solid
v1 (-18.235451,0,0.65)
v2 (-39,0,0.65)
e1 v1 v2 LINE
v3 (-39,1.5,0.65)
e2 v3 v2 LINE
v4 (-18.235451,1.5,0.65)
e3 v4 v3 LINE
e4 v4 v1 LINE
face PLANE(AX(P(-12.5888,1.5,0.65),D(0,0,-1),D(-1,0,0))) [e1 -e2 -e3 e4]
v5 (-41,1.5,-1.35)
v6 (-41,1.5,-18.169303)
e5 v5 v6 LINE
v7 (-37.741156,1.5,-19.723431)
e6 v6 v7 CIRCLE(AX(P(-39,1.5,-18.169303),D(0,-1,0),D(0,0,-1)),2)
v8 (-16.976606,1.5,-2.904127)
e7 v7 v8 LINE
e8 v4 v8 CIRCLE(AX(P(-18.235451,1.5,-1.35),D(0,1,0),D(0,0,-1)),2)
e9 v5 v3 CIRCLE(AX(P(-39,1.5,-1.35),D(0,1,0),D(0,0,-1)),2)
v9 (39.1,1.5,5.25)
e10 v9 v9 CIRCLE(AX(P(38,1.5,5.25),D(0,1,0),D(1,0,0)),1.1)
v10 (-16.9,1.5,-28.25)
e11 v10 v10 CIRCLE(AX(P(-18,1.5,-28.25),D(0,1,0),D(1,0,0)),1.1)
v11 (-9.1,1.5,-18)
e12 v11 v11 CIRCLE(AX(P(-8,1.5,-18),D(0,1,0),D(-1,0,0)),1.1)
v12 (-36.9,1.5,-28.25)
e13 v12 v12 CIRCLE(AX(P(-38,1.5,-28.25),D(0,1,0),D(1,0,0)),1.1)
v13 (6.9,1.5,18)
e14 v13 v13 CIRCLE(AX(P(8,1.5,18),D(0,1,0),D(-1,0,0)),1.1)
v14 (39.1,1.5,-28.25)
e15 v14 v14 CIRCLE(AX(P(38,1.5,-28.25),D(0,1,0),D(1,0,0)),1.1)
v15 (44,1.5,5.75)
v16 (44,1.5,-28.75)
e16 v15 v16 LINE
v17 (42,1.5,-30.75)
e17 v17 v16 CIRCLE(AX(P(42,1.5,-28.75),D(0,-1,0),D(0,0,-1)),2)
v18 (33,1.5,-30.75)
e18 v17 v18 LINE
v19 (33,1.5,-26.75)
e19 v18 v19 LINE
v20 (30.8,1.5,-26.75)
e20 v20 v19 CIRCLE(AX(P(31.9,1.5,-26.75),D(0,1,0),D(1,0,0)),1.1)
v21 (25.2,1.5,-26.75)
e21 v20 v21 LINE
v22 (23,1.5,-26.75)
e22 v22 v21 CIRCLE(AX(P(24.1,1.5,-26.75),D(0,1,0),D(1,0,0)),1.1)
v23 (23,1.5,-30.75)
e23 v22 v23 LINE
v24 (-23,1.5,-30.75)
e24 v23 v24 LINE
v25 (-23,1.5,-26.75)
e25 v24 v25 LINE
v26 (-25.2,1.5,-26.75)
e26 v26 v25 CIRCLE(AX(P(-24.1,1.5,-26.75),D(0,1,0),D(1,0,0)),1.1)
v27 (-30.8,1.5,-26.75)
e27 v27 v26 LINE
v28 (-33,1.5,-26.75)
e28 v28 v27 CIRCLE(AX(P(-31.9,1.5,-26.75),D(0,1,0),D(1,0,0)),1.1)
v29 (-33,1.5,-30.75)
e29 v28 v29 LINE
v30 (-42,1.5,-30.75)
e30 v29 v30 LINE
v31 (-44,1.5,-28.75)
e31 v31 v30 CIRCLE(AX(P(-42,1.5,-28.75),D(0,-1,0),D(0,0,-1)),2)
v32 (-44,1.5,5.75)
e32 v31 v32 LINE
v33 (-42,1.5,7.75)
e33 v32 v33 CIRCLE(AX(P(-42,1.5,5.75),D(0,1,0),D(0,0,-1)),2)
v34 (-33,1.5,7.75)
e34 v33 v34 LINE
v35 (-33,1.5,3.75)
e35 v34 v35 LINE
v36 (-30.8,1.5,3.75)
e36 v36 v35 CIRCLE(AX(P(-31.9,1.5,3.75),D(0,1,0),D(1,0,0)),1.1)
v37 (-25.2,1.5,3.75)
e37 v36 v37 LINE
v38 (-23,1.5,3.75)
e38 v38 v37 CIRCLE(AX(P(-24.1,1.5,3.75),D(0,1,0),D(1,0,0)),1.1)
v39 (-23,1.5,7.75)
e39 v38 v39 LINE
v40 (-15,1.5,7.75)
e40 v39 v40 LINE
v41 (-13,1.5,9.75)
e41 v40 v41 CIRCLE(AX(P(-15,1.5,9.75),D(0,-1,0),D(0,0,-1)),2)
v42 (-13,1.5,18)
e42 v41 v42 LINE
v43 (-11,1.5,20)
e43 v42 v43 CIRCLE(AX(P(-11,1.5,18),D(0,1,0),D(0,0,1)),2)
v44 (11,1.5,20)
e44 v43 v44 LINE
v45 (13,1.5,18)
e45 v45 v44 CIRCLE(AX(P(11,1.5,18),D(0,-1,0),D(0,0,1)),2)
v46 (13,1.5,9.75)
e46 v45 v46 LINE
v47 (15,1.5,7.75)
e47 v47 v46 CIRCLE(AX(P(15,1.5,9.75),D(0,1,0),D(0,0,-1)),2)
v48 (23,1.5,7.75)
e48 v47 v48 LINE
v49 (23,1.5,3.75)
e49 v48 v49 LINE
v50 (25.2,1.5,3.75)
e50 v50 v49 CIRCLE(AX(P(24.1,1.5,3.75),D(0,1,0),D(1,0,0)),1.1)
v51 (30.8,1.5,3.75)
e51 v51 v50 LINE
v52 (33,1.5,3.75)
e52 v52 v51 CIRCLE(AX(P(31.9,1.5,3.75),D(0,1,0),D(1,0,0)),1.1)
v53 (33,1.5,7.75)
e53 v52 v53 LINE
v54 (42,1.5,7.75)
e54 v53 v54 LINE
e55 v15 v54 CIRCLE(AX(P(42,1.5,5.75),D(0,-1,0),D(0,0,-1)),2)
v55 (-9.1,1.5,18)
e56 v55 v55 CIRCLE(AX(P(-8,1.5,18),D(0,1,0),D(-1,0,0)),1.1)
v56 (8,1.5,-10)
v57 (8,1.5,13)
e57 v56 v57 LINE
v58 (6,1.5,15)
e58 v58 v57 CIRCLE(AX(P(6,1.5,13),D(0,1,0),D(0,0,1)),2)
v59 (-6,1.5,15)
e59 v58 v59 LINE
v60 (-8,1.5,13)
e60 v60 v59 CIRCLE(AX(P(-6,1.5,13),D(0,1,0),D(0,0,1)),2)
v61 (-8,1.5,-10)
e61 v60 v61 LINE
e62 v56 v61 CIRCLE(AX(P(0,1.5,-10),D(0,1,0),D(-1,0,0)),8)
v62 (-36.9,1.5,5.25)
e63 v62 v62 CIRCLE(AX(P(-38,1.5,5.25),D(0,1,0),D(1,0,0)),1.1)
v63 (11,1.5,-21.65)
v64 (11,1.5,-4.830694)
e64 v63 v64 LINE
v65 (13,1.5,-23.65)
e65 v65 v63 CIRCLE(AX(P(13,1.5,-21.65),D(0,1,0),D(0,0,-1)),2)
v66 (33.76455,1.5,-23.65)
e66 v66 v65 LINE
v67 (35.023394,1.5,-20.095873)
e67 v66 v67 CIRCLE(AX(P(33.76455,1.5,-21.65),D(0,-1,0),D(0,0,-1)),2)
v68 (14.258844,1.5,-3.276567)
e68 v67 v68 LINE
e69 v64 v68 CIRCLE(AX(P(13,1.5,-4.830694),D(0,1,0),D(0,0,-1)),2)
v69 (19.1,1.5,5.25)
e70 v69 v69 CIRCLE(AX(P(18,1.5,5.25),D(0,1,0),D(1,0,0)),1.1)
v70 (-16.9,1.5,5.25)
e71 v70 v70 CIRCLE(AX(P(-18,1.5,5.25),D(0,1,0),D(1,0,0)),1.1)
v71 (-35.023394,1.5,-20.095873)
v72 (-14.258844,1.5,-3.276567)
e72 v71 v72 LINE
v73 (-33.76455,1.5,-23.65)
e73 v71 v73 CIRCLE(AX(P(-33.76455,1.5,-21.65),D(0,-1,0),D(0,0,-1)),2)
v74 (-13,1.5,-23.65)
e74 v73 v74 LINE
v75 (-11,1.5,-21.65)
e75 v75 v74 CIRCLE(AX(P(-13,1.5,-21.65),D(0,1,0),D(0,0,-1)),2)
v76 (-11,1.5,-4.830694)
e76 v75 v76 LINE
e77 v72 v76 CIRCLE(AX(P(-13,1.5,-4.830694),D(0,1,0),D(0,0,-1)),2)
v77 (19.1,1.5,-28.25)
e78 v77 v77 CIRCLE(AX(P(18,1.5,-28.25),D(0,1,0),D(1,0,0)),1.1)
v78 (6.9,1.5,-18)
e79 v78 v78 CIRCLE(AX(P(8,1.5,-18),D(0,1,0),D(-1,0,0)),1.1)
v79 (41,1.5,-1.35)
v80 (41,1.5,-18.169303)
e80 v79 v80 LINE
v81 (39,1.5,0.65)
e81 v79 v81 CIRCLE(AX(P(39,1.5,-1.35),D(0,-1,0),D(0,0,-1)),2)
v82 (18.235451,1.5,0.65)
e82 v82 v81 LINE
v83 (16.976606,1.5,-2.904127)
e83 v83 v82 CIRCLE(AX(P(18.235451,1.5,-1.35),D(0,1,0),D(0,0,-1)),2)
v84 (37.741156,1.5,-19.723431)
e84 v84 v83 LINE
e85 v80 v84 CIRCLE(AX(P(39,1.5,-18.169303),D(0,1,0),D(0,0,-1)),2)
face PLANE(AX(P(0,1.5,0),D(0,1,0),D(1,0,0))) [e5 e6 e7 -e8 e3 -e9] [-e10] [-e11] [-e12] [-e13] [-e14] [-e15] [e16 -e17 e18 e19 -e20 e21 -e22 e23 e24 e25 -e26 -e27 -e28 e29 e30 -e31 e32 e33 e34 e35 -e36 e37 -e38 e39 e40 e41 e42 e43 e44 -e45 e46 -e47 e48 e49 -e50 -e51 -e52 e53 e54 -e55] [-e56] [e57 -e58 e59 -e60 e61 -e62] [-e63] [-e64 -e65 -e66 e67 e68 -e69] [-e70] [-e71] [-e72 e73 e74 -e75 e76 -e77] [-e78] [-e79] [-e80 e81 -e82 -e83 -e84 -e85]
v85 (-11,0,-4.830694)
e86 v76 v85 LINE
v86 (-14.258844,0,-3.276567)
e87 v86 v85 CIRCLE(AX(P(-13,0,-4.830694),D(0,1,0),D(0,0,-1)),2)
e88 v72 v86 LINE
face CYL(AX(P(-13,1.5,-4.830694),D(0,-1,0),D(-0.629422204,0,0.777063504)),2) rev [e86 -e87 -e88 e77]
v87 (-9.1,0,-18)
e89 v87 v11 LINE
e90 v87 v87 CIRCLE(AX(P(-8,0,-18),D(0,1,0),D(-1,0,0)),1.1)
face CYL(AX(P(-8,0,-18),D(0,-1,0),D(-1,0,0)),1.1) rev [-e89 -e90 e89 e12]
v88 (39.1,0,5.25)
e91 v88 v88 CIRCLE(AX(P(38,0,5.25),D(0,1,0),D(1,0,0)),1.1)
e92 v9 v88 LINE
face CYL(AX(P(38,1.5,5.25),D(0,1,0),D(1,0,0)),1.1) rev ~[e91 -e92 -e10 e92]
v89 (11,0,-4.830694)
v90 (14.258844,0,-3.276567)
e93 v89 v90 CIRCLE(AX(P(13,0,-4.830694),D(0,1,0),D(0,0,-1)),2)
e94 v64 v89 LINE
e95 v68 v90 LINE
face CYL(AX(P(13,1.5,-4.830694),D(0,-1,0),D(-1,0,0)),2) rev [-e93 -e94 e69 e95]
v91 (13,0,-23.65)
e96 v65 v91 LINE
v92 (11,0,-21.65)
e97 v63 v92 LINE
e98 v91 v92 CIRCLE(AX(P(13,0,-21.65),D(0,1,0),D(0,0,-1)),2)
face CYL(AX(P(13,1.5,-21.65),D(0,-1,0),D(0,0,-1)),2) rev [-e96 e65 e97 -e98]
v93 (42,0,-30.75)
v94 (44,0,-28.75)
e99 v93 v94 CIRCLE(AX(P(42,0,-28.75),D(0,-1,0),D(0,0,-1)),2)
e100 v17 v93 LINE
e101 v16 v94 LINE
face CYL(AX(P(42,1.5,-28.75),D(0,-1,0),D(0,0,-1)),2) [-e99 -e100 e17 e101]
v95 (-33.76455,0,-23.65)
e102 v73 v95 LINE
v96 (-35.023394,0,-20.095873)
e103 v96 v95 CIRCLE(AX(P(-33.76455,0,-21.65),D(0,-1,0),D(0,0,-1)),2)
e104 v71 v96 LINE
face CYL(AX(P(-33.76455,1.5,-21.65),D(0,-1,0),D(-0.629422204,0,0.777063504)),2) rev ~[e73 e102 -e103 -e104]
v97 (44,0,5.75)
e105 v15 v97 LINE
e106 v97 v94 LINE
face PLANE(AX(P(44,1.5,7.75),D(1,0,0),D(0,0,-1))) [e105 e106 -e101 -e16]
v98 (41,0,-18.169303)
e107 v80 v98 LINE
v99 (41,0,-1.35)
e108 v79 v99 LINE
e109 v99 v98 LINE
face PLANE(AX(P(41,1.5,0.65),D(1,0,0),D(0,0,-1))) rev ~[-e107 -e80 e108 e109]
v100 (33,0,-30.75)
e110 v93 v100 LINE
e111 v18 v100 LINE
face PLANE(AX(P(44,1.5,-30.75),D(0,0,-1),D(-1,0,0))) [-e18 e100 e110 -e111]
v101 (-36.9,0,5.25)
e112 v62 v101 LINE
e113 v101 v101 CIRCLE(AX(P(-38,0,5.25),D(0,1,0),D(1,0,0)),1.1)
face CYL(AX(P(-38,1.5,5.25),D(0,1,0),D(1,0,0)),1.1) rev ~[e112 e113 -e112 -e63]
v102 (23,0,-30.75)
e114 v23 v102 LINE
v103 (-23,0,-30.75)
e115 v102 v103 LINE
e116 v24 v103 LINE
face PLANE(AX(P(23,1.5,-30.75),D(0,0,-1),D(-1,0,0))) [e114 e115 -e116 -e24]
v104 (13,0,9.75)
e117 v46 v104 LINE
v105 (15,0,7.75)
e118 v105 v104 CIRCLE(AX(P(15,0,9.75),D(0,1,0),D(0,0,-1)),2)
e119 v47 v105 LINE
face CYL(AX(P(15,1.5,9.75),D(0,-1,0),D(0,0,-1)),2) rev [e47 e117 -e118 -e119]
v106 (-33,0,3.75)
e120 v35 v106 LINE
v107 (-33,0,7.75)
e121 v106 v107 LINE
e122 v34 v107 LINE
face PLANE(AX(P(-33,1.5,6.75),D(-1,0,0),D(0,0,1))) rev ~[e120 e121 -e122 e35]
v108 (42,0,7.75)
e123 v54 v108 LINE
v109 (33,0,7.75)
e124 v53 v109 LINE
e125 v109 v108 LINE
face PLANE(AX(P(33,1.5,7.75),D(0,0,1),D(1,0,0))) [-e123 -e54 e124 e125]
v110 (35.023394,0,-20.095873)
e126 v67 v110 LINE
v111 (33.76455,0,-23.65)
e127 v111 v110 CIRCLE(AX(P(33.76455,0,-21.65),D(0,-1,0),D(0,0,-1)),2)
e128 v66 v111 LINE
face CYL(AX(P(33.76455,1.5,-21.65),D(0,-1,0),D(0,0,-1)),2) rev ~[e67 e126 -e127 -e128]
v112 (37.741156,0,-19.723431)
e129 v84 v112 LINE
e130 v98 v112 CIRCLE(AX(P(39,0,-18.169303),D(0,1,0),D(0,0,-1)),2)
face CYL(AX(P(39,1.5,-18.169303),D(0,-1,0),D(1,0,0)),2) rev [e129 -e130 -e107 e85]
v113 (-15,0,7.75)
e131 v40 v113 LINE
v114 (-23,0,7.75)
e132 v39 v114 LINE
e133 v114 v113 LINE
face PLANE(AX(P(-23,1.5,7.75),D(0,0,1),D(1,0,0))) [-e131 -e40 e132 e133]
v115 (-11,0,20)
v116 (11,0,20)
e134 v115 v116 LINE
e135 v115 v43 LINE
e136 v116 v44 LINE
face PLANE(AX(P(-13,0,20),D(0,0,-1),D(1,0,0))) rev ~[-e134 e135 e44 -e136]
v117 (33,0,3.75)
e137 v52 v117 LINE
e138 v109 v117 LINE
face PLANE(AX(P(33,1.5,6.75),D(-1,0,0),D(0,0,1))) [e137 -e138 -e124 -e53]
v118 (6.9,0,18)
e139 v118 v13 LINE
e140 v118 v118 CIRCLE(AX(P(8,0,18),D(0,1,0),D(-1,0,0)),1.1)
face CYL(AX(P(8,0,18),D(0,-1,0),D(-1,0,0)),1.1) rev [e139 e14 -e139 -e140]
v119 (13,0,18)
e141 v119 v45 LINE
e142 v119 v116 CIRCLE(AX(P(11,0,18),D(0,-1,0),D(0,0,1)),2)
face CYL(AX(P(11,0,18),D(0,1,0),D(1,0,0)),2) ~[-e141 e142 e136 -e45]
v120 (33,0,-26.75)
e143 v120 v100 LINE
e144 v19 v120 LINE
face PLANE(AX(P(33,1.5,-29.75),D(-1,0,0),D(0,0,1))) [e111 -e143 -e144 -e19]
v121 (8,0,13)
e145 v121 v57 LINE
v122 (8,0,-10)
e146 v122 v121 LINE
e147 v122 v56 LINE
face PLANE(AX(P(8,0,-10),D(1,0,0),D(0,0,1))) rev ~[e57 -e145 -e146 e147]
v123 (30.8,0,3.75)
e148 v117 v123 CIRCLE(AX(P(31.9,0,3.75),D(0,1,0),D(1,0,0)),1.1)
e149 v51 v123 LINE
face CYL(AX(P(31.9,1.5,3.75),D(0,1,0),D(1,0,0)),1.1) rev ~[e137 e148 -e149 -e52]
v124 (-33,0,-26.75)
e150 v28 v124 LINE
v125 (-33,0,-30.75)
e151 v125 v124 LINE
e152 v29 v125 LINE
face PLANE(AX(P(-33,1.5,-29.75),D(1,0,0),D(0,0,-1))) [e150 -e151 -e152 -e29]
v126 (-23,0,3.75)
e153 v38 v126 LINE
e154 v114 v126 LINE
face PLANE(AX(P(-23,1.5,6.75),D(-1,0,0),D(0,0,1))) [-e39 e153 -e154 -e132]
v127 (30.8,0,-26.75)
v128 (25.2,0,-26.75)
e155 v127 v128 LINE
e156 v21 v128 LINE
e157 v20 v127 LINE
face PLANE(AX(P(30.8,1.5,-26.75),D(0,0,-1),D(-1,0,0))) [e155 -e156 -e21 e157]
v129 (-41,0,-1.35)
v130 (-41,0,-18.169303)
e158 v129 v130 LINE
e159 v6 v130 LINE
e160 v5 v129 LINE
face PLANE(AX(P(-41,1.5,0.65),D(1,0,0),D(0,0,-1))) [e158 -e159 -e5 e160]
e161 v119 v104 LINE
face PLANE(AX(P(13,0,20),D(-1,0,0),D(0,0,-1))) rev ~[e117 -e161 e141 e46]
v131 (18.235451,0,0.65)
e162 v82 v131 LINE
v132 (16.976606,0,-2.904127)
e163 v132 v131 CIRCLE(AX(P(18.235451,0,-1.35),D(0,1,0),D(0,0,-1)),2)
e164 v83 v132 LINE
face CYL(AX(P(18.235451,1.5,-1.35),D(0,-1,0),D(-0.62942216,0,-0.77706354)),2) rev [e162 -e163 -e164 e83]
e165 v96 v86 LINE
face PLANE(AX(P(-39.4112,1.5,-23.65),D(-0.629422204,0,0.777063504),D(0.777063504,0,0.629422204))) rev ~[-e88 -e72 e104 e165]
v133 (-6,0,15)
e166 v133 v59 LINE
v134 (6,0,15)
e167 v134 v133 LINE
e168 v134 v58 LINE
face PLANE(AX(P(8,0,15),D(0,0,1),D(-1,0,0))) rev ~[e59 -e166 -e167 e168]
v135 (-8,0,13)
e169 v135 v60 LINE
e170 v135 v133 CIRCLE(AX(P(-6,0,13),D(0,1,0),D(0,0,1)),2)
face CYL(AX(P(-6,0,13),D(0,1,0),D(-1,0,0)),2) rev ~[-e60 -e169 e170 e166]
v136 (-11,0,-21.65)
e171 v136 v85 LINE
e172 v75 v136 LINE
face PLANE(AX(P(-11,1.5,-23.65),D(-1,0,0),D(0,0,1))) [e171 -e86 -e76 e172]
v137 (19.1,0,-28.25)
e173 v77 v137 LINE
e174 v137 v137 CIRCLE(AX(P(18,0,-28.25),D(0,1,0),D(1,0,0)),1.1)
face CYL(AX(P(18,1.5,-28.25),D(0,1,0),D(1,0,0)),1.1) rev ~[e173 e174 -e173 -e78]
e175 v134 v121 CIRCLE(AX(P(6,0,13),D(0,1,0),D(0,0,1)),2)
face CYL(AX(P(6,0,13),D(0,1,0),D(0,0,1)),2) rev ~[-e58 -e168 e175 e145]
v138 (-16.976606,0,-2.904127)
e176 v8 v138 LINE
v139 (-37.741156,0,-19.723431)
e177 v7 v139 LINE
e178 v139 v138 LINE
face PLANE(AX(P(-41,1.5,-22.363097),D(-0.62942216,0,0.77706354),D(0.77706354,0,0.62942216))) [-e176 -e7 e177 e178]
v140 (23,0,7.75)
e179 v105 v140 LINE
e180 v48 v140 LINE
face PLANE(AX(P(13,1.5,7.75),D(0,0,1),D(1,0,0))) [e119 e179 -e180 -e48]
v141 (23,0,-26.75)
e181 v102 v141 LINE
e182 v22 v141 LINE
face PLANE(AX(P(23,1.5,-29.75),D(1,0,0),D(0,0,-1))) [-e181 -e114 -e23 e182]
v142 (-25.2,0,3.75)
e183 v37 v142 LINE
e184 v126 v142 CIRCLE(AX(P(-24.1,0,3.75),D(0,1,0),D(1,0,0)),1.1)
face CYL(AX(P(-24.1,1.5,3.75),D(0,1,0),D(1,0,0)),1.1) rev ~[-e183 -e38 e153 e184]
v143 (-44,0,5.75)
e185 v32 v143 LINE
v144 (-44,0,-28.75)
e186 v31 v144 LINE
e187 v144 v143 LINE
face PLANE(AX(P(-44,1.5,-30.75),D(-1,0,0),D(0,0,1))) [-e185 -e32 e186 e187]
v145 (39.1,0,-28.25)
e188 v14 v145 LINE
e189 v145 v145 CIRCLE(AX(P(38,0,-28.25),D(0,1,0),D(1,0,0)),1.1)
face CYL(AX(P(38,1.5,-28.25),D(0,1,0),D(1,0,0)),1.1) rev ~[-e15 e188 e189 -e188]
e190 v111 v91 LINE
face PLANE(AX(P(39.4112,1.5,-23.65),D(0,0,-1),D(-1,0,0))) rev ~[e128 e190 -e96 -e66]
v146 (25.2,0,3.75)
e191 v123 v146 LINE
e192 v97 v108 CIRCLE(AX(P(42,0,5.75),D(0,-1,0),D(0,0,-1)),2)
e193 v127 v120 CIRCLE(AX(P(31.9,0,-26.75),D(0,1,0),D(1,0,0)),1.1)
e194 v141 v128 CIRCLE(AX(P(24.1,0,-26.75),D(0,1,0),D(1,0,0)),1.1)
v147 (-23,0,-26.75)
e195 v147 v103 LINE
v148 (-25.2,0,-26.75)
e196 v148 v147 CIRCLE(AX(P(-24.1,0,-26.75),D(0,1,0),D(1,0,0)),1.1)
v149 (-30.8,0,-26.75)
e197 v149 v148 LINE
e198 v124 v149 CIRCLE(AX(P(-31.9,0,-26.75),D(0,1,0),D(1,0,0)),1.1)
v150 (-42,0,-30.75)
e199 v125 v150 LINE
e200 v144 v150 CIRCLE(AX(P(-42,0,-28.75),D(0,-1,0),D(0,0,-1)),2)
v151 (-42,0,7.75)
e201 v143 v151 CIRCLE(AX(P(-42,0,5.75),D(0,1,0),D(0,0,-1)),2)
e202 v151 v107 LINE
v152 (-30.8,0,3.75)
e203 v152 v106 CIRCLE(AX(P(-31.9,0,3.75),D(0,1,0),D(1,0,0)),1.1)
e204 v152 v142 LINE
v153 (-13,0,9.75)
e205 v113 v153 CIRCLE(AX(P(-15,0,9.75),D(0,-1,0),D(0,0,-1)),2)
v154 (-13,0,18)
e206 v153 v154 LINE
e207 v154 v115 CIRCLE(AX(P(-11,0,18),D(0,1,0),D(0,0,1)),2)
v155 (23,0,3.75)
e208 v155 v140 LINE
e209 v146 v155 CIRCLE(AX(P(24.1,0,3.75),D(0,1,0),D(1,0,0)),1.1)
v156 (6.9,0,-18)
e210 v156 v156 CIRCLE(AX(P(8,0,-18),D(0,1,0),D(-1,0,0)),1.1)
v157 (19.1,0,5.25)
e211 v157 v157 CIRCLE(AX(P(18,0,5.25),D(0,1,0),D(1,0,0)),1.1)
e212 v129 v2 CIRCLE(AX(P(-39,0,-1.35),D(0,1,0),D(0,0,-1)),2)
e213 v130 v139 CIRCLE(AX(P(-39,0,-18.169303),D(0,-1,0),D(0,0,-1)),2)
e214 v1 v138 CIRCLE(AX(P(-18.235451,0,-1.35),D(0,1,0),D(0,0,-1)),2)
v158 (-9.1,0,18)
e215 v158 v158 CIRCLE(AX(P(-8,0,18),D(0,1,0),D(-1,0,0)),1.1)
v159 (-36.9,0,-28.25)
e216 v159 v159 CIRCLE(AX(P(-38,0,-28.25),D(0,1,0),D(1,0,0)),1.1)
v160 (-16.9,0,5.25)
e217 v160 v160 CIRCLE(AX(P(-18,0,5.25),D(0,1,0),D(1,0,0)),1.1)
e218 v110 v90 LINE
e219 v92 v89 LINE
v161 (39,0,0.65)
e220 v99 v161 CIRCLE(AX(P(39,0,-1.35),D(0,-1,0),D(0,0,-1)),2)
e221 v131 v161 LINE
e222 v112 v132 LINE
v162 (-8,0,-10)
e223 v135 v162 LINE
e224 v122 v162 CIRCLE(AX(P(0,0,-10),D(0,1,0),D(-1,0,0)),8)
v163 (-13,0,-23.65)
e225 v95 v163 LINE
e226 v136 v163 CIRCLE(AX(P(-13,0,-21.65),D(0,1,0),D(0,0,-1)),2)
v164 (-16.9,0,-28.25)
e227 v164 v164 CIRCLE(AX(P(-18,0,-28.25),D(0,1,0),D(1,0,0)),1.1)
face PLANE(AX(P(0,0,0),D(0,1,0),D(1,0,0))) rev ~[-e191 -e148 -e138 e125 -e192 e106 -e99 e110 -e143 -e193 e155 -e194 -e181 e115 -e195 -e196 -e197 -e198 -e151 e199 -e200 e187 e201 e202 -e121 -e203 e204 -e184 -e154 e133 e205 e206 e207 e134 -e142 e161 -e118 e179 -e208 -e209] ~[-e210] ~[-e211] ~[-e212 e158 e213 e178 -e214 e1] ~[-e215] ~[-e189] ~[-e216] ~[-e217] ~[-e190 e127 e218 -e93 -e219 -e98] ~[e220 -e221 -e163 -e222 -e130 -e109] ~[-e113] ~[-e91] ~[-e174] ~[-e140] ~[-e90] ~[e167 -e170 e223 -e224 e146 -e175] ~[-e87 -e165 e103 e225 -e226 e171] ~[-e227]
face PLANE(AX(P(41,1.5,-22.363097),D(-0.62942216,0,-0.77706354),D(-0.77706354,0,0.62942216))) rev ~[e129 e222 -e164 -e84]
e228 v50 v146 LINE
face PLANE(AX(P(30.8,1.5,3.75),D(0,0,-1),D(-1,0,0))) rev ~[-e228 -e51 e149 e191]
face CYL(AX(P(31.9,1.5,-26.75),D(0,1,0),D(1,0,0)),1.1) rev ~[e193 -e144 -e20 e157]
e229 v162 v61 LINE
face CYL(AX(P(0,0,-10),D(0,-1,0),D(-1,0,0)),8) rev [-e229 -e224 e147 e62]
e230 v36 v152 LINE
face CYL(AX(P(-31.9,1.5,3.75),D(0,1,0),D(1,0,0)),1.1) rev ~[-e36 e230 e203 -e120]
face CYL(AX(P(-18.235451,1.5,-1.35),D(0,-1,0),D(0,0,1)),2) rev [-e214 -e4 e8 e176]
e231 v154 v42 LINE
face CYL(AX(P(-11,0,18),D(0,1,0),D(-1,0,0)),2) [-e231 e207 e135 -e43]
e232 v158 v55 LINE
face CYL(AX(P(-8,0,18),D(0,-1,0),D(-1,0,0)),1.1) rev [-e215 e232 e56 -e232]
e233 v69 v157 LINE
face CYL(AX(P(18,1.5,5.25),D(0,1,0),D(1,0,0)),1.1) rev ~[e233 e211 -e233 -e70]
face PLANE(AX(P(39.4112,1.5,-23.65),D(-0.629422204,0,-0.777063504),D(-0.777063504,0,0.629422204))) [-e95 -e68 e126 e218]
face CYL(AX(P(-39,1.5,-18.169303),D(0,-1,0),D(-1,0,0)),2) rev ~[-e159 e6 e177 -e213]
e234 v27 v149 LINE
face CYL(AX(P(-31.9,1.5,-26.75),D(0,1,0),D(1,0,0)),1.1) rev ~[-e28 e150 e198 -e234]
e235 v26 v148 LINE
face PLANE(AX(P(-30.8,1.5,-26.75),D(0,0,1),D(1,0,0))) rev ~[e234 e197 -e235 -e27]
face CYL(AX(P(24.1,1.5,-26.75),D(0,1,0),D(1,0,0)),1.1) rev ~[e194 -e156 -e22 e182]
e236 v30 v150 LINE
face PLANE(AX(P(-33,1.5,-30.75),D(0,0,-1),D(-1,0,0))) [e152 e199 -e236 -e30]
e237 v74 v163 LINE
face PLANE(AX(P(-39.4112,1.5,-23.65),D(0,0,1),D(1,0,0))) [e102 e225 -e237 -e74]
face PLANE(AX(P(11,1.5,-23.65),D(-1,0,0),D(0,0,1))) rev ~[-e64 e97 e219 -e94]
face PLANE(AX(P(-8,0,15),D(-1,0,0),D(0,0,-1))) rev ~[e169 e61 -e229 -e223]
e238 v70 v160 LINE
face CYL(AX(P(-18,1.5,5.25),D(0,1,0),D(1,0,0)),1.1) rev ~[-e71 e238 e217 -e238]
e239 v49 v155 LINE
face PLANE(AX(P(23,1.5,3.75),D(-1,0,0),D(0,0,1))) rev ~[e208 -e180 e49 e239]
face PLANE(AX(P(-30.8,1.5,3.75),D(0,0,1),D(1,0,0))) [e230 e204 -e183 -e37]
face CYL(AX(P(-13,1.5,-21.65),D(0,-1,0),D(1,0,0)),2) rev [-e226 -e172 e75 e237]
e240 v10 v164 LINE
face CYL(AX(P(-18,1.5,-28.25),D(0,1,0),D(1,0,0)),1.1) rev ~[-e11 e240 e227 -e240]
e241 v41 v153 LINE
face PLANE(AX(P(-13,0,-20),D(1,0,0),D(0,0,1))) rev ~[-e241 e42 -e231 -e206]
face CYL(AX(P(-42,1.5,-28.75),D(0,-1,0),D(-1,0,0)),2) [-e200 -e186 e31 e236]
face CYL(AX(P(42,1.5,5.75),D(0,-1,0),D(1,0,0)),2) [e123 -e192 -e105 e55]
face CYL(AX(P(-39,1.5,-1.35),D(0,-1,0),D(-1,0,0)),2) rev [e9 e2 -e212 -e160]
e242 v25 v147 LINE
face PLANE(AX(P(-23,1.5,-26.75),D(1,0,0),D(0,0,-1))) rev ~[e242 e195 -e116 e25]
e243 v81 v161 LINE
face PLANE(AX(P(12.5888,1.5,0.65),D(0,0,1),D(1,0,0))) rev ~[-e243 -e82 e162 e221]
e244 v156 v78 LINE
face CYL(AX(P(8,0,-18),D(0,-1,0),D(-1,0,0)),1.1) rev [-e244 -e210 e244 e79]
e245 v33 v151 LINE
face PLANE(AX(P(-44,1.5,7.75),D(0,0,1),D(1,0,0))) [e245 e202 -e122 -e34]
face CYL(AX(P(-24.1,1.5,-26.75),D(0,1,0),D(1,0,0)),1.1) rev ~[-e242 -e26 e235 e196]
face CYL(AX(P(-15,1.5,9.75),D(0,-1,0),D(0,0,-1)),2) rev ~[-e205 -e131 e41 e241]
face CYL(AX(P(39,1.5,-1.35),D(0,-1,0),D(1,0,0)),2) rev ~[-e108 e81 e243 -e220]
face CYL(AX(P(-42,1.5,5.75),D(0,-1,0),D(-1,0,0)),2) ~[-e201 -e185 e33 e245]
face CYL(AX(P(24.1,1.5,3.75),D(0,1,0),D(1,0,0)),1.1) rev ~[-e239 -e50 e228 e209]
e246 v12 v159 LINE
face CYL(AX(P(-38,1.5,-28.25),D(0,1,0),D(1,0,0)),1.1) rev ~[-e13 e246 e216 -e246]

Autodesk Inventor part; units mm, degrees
ref_plane "YZ Plane" through (0, 0, 0) normal (1, 0, 0) x (0, 1, 0)
ref_plane "XZ Plane" through (0, 0, 0) normal (0, 1, 0) x (-1, 0, 0)
ref_plane "XY Plane" through (0, 0, 0) normal (0, 0, 1) x (1, 0, 0)
sketch "スケッチ1" plane through (0, 0, 0) normal (0, 1, 0) x (-1, 0, 0)
  line L0 (8, 18) -> (-8, 18) construction
  line L1 (-8, 18) -> (-8, -18) construction
  line L2 (-8, -18) -> (8, -18) construction
  line L3 (8, -18) -> (8, 18) construction
  line L4 (8, 18) -> (-8, -18) construction
  line L5 (-8, 18) -> (8, -18) construction
  circle A0 centre (8, -18) radius 1.1
  circle A1 centre (-8, -18) radius 1.1
  circle A2 centre (8, 18) radius 1.1
  circle A3 centre (-8, 18) radius 1.1
  line L6 (13, 20) -> (-13, 20)
  line L7 (-13, 20) -> (-13, -20)
  line L8 (-13, -20) -> (13, -20)
  line L9 (13, -20) -> (13, 20)
  line L10 (13, 20) -> (-13, -20) construction
  line L11 (-13, 20) -> (13, -20) construction
  line L12 (8, -10) -> (-8, -10)
  line L13 (-8, -10) -> (-8, 15)
  line L14 (-8, 15) -> (8, 15)
  line L15 (8, 15) -> (8, -10)
  circle A4 centre (0, -10) radius 8
  point P0 (0, 0)
  dimension "d0" = 2.2
  dimension "d1" = 16
  dimension "d2" = 36
  dimension "d5" = 16
  dimension "d8" = 36
  dimension "d11" = 2
  dimension "d12" = 5
  dimension "d15" = 3
  dimension "d16" = 10
extrude "押し出し1" add sketch "スケッチ1" along normal blind 1.5
fillet "フィレット1" radius 2 2 edges at (8, 0.75, 15) (-8, 0.75, 15)
sketch "スケッチ2" plane through (0, 1.5, 0) normal (0, 1, 0) x (1, 0, 0)
  line L0 (-44, -7.75) -> (44, -7.75)
  line L1 (44, -7.75) -> (44, 30.75)
  line L2 (44, 30.75) -> (-44, 30.75)
  line L3 (-44, 30.75) -> (-44, -7.75)
  line L4 (-44, -7.75) -> (44, 30.75) construction
  line L5 (44, -7.75) -> (-44, 30.75) construction
  line L6 (13, 20) -> (-13, 20) projected
  line L7 (-13, 20) -> (-13, -20) projected
  line L8 (-8, -13) -> (-8, 10) projected
  line L9 (8, 10) -> (8, -13) projected
  line L10 (13, -20) -> (13, 20) projected
  line L11 (13, 20) -> (-13, 20) projected
  line L12 (-13, 20) -> (-13, -20) projected
  line L13 (-13, -20) -> (13, -20) projected
  circle A0 centre (-8, -18) radius 1.1 projected
  circle A1 centre (8, -18) radius 1.1 projected
  circle A2 centre (8, 18) radius 1.1 projected
  circle A3 centre (-8, 18) radius 1.1 projected
  line L14 (-8, -13) -> (-8, 10) projected
  arc A4 (8, 10) -> (-8, 10) centre (0, 10) ccw projected
  line L15 (8, 10) -> (8, -13) projected
  arc A5 (6, -15) -> (8, -13) centre (6, -13) ccw projected
  line L16 (6, -15) -> (-6, -15) projected
  arc A6 (-8, -13) -> (-6, -15) centre (-6, -13) ccw projected
  line L17 (33, 26.75) -> (23, 26.75)
  line L18 (23, 26.75) -> (23, 29.75)
  line L19 (23, 29.75) -> (33, 29.75)
  line L20 (33, 29.75) -> (33, 26.75)
  circle A7 centre (38, 28.25) radius 1.1
  line L21 (28, 26.75) -> (28, 29.75) construction
  circle A8 centre (18, 28.25) radius 1.1
  line L22 (44, 11.5) -> (-44, 11.5) construction
  line L23 (33, -3.75) -> (23, -3.75)
  line L24 (23, -3.75) -> (23, -6.75)
  line L25 (23, -6.75) -> (33, -6.75)
  line L26 (33, -6.75) -> (33, -3.75)
  circle A9 centre (38, -5.25) radius 1.1
  line L27 (28, -3.75) -> (28, -6.75) construction
  circle A10 centre (18, -5.25) radius 1.1
  line L28 (0, 30.75) -> (0, -7.75) construction
  line L29 (-33, 26.75) -> (-23, 26.75)
  line L30 (-23, 26.75) -> (-23, 29.75)
  line L31 (-23, 29.75) -> (-33, 29.75)
  line L32 (-33, 29.75) -> (-33, 26.75)
  circle A11 centre (-38, 28.25) radius 1.1
  line L33 (-28, 26.75) -> (-28, 29.75) construction
  circle A12 centre (-18, 28.25) radius 1.1
  circle A13 centre (-18, -5.25) radius 1.1
  line L34 (-23, -3.75) -> (-23, -6.75)
  line L35 (-28, -3.75) -> (-28, -6.75) construction
  line L36 (-33, -3.75) -> (-23, -3.75)
  line L37 (-23, -6.75) -> (-33, -6.75)
  line L38 (-33, -6.75) -> (-33, -3.75)
  circle A14 centre (-38, -5.25) radius 1.1
  circle A15 centre (-31.9, -6.75) radius 1.1
  circle A16 centre (-24.1, -6.75) radius 1.1
  line L39 (-33, -5.25) -> (-28, -5.25) construction
  circle A17 centre (-31.9, -3.75) radius 1.1
  circle A18 centre (-24.1, -3.75) radius 1.1
  circle A19 centre (-31.9, 29.75) radius 1.1
  circle A20 centre (-24.1, 29.75) radius 1.1
  circle A21 centre (-31.9, 26.75) radius 1.1
  circle A22 centre (-24.1, 26.75) radius 1.1
  circle A23 centre (31.9, -6.75) radius 1.1
  circle A24 centre (24.1, -6.75) radius 1.1
  circle A25 centre (31.9, -3.75) radius 1.1
  circle A26 centre (24.1, -3.75) radius 1.1
  circle A27 centre (31.9, 29.75) radius 1.1
  circle A28 centre (31.9, 26.75) radius 1.1
  circle A29 centre (24.1, 26.75) radius 1.1
  circle A30 centre (24.1, 29.75) radius 1.1
  line L40 (33, 29.75) -> (33, 30.75)
  line L41 (23, 29.75) -> (23, 30.75)
  line L42 (-33, 29.75) -> (-33, 30.75)
  line L43 (-23, 29.75) -> (-23, 30.75)
  line L44 (33, -6.75) -> (33, -7.75)
  line L45 (23, -6.75) -> (23, -7.75)
  line L46 (-33, -6.75) -> (-33, -7.75)
  line L47 (-23, -6.75) -> (-23, -7.75)
  point P0 (0, 0)
  point P1 (0, 11.5)
  point P2 (-13, -7.75)
  point P3 (13, -7.75)
  point P4 (33, 28.25)
  point P5 (33, -5.25)
  point P6 (-13, 20)
  point P7 (-13, 20)
  point P8 (-33, 28.25)
  point P9 (33, -3.75)
  point P10 (33, -6.75)
  point P11 (30.8, -6.75)
  point P12 (25.2, -6.75)
  point P13 (23, -6.75)
  point P14 (23, -3.75)
  point P15 (23, -3.75)
  point P16 (-23, 29.75)
  point P17 (-23, 26.75)
  point P18 (-25.2, 26.75)
  point P19 (-30.8, 26.75)
  point P20 (-33, 26.75)
  point P21 (-33, 29.75)
  point P22 (-23, -3.75)
  point P23 (-23, -6.75)
  point P24 (-25.2, -6.75)
  point P25 (-30.8, -6.75)
  point P26 (-33, -3.75)
  point P27 (33, 29.75)
  point P28 (33, 26.75)
  point P29 (30.8, 26.75)
  point P30 (25.2, 26.75)
  point P31 (23, 26.75)
  point P32 (23, 29.75)
  point P33 (23, 29.75)
  point P34 (24.2, -6.75)
  point P35 (-29.8, 26.75)
  point P36 (24.2, 26.75)
  point P37 (27.2, -3.75)
  point P38 (23, -6.75)
  point P39 (30.8, -3.75)
  point P40 (-25.2, 29.75)
  point P41 (-32.8, 29.75)
  point P42 (27.2, 29.75)
  point P43 (30.8, 29.75)
  point P44 (23, 26.75)
  point P45 (-32.8, -3.75)
  point P46 (26.2, -3.75)
  point P47 (-31.8, 29.75)
  point P48 (-31.8, -3.75)
  point P49 (-25.2, -3.75)
  point P50 (26.2, 29.75)
  point P51 (25.2, -3.75)
  point P52 (-30.8, 29.75)
  point P53 (-30.8, -3.75)
  point P54 (25.2, 29.75)
  point P55 (32.3583, 30.75)
  point P56 (23.6417, 30.75)
  point P57 (-23.6417, 30.75)
  point P58 (-32.3583, 30.75)
  point P59 (-32.3583, -7.75)
  point P60 (-23.6417, -7.75)
  point P61 (23.6417, -7.75)
  point P62 (32.3583, -7.75)
  dimension "d30" = 2.2
  dimension "d19" = 31
  dimension "d22" = 10
  dimension "d23" = 3
  dimension "d25" = 2.2
  dimension "d26" = 5
  dimension "d27" = 6
  dimension "d29" = 1
  dimension "d31" = 18.25
extrude "押し出し3" add sketch "スケッチ2" against normal blind 1.5 contours L3 L2 L42 L32 A21 L29 A22 L30 L43 L41 L18 A29 L17 A28 L20 L40 L1 L0 L44 L26 A25 L23 A26 L24 L45 L10 L6 L7 L47 L34 A18 L36 A17 L38 L46
fillet "フィレット2" radius 2 8 edges at (44, 0.75, -30.75) (44, 0.75, 7.75) (13, 0.75, 7.75) (13, 0.75, 20) (-13, 0.75, 20) (-13, 0.75, 7.75) (-44, 0.75, 7.75) (-44, 0.75, -30.75)
sketch "スケッチ4" plane through (0, 1.5, 0) normal (0, 1, 0) x (1, 0, 0)
  line L0 (41, 23.65) -> (11, 23.65)
  line L1 (11, 23.65) -> (11, -0.65)
  line L2 (11, -0.65) -> (41, -0.65)
  line L3 (41, -0.65) -> (41, 23.65)
  arc A0 (30.8, 26.75) -> (33, 26.75) centre (31.9, 26.75) ccw projected
  line L4 (44, -5.75) -> (44, 28.75) projected
  arc A1 (33, -3.75) -> (30.8, -3.75) centre (31.9, -3.75) ccw projected
  line L5 (-11, -20) -> (11, -20) construction
  line L6 (0, -20) -> (0, 21) construction
  line L7 (-41, 23.65) -> (-11, 23.65)
  line L8 (-11, 23.65) -> (-11, -0.65)
  line L9 (-11, -0.65) -> (-41, -0.65)
  line L10 (-41, -0.65) -> (-41, 23.65)
  line L11 (-44, -5.75) -> (-44, 28.75)
  line L12 (11, -0.65) -> (41, 23.65) construction
  line L13 (44, 24.7931) -> (12.5888, -0.65)
  line L14 (39.4112, 23.65) -> (11, 0.6369)
  line L15 (-44, 24.7931) -> (-12.5888, -0.65)
  line L16 (-39.4112, 23.65) -> (-11, 0.6369)
  line L17 (8, 10) -> (8, -13) projected
  point P0 (0, 0)
  point P1 (31.9, 25.65)
  point P2 (41, 11.5)
  point P3 (31.9, -2.65)
  point P4 (-41, 11.5)
  point P5 (-15, 23)
  point P6 (41, 22.3631)
  point P7 (39.7412, 23.9172)
  point P8 (11.3299, 0.9041)
  point P9 (-11.3299, 0.9041)
  point P10 (17, 0.7731)
  point P11 (-12.5888, -0.65)
  point P12 (-41, 22.3631)
  point P13 (-39.4112, 23.65)
  point P14 (-17, 0.7731)
  dimension "d39" = 2
  dimension "d40" = 3
  dimension "d41" = 2
  dimension "d43" = 1
  dimension "d48" = 3
extrude "押し出し5" cut sketch "スケッチ4" against normal blind 1.5 contours L14 L1 L0 | L3 L2 L13 | L7 L8 L16 | L15 L9 L10
fillet "フィレット3" radius 2 12 edges at (-39.4112, 0.75, -23.65) (-41, 0.75, -22.3631) (-11, 0.75, -23.65) (-12.5888, 0.75, 0.65) (-41, 0.75, 0.65) (41, 0.75, 0.65) (39.4112, 0.75, -23.65) (41, 0.75, -22.3631) (11, 0.75, -23.65) (12.5888, 0.75, 0.65) (-11, 0.75, -0.6369) (11, 0.75, -0.6369)
equation "\"d5\" = d1"
equation "\"d8\" = d2"
properties part number "KSHI" material "アルミニウム 2014-T4"
